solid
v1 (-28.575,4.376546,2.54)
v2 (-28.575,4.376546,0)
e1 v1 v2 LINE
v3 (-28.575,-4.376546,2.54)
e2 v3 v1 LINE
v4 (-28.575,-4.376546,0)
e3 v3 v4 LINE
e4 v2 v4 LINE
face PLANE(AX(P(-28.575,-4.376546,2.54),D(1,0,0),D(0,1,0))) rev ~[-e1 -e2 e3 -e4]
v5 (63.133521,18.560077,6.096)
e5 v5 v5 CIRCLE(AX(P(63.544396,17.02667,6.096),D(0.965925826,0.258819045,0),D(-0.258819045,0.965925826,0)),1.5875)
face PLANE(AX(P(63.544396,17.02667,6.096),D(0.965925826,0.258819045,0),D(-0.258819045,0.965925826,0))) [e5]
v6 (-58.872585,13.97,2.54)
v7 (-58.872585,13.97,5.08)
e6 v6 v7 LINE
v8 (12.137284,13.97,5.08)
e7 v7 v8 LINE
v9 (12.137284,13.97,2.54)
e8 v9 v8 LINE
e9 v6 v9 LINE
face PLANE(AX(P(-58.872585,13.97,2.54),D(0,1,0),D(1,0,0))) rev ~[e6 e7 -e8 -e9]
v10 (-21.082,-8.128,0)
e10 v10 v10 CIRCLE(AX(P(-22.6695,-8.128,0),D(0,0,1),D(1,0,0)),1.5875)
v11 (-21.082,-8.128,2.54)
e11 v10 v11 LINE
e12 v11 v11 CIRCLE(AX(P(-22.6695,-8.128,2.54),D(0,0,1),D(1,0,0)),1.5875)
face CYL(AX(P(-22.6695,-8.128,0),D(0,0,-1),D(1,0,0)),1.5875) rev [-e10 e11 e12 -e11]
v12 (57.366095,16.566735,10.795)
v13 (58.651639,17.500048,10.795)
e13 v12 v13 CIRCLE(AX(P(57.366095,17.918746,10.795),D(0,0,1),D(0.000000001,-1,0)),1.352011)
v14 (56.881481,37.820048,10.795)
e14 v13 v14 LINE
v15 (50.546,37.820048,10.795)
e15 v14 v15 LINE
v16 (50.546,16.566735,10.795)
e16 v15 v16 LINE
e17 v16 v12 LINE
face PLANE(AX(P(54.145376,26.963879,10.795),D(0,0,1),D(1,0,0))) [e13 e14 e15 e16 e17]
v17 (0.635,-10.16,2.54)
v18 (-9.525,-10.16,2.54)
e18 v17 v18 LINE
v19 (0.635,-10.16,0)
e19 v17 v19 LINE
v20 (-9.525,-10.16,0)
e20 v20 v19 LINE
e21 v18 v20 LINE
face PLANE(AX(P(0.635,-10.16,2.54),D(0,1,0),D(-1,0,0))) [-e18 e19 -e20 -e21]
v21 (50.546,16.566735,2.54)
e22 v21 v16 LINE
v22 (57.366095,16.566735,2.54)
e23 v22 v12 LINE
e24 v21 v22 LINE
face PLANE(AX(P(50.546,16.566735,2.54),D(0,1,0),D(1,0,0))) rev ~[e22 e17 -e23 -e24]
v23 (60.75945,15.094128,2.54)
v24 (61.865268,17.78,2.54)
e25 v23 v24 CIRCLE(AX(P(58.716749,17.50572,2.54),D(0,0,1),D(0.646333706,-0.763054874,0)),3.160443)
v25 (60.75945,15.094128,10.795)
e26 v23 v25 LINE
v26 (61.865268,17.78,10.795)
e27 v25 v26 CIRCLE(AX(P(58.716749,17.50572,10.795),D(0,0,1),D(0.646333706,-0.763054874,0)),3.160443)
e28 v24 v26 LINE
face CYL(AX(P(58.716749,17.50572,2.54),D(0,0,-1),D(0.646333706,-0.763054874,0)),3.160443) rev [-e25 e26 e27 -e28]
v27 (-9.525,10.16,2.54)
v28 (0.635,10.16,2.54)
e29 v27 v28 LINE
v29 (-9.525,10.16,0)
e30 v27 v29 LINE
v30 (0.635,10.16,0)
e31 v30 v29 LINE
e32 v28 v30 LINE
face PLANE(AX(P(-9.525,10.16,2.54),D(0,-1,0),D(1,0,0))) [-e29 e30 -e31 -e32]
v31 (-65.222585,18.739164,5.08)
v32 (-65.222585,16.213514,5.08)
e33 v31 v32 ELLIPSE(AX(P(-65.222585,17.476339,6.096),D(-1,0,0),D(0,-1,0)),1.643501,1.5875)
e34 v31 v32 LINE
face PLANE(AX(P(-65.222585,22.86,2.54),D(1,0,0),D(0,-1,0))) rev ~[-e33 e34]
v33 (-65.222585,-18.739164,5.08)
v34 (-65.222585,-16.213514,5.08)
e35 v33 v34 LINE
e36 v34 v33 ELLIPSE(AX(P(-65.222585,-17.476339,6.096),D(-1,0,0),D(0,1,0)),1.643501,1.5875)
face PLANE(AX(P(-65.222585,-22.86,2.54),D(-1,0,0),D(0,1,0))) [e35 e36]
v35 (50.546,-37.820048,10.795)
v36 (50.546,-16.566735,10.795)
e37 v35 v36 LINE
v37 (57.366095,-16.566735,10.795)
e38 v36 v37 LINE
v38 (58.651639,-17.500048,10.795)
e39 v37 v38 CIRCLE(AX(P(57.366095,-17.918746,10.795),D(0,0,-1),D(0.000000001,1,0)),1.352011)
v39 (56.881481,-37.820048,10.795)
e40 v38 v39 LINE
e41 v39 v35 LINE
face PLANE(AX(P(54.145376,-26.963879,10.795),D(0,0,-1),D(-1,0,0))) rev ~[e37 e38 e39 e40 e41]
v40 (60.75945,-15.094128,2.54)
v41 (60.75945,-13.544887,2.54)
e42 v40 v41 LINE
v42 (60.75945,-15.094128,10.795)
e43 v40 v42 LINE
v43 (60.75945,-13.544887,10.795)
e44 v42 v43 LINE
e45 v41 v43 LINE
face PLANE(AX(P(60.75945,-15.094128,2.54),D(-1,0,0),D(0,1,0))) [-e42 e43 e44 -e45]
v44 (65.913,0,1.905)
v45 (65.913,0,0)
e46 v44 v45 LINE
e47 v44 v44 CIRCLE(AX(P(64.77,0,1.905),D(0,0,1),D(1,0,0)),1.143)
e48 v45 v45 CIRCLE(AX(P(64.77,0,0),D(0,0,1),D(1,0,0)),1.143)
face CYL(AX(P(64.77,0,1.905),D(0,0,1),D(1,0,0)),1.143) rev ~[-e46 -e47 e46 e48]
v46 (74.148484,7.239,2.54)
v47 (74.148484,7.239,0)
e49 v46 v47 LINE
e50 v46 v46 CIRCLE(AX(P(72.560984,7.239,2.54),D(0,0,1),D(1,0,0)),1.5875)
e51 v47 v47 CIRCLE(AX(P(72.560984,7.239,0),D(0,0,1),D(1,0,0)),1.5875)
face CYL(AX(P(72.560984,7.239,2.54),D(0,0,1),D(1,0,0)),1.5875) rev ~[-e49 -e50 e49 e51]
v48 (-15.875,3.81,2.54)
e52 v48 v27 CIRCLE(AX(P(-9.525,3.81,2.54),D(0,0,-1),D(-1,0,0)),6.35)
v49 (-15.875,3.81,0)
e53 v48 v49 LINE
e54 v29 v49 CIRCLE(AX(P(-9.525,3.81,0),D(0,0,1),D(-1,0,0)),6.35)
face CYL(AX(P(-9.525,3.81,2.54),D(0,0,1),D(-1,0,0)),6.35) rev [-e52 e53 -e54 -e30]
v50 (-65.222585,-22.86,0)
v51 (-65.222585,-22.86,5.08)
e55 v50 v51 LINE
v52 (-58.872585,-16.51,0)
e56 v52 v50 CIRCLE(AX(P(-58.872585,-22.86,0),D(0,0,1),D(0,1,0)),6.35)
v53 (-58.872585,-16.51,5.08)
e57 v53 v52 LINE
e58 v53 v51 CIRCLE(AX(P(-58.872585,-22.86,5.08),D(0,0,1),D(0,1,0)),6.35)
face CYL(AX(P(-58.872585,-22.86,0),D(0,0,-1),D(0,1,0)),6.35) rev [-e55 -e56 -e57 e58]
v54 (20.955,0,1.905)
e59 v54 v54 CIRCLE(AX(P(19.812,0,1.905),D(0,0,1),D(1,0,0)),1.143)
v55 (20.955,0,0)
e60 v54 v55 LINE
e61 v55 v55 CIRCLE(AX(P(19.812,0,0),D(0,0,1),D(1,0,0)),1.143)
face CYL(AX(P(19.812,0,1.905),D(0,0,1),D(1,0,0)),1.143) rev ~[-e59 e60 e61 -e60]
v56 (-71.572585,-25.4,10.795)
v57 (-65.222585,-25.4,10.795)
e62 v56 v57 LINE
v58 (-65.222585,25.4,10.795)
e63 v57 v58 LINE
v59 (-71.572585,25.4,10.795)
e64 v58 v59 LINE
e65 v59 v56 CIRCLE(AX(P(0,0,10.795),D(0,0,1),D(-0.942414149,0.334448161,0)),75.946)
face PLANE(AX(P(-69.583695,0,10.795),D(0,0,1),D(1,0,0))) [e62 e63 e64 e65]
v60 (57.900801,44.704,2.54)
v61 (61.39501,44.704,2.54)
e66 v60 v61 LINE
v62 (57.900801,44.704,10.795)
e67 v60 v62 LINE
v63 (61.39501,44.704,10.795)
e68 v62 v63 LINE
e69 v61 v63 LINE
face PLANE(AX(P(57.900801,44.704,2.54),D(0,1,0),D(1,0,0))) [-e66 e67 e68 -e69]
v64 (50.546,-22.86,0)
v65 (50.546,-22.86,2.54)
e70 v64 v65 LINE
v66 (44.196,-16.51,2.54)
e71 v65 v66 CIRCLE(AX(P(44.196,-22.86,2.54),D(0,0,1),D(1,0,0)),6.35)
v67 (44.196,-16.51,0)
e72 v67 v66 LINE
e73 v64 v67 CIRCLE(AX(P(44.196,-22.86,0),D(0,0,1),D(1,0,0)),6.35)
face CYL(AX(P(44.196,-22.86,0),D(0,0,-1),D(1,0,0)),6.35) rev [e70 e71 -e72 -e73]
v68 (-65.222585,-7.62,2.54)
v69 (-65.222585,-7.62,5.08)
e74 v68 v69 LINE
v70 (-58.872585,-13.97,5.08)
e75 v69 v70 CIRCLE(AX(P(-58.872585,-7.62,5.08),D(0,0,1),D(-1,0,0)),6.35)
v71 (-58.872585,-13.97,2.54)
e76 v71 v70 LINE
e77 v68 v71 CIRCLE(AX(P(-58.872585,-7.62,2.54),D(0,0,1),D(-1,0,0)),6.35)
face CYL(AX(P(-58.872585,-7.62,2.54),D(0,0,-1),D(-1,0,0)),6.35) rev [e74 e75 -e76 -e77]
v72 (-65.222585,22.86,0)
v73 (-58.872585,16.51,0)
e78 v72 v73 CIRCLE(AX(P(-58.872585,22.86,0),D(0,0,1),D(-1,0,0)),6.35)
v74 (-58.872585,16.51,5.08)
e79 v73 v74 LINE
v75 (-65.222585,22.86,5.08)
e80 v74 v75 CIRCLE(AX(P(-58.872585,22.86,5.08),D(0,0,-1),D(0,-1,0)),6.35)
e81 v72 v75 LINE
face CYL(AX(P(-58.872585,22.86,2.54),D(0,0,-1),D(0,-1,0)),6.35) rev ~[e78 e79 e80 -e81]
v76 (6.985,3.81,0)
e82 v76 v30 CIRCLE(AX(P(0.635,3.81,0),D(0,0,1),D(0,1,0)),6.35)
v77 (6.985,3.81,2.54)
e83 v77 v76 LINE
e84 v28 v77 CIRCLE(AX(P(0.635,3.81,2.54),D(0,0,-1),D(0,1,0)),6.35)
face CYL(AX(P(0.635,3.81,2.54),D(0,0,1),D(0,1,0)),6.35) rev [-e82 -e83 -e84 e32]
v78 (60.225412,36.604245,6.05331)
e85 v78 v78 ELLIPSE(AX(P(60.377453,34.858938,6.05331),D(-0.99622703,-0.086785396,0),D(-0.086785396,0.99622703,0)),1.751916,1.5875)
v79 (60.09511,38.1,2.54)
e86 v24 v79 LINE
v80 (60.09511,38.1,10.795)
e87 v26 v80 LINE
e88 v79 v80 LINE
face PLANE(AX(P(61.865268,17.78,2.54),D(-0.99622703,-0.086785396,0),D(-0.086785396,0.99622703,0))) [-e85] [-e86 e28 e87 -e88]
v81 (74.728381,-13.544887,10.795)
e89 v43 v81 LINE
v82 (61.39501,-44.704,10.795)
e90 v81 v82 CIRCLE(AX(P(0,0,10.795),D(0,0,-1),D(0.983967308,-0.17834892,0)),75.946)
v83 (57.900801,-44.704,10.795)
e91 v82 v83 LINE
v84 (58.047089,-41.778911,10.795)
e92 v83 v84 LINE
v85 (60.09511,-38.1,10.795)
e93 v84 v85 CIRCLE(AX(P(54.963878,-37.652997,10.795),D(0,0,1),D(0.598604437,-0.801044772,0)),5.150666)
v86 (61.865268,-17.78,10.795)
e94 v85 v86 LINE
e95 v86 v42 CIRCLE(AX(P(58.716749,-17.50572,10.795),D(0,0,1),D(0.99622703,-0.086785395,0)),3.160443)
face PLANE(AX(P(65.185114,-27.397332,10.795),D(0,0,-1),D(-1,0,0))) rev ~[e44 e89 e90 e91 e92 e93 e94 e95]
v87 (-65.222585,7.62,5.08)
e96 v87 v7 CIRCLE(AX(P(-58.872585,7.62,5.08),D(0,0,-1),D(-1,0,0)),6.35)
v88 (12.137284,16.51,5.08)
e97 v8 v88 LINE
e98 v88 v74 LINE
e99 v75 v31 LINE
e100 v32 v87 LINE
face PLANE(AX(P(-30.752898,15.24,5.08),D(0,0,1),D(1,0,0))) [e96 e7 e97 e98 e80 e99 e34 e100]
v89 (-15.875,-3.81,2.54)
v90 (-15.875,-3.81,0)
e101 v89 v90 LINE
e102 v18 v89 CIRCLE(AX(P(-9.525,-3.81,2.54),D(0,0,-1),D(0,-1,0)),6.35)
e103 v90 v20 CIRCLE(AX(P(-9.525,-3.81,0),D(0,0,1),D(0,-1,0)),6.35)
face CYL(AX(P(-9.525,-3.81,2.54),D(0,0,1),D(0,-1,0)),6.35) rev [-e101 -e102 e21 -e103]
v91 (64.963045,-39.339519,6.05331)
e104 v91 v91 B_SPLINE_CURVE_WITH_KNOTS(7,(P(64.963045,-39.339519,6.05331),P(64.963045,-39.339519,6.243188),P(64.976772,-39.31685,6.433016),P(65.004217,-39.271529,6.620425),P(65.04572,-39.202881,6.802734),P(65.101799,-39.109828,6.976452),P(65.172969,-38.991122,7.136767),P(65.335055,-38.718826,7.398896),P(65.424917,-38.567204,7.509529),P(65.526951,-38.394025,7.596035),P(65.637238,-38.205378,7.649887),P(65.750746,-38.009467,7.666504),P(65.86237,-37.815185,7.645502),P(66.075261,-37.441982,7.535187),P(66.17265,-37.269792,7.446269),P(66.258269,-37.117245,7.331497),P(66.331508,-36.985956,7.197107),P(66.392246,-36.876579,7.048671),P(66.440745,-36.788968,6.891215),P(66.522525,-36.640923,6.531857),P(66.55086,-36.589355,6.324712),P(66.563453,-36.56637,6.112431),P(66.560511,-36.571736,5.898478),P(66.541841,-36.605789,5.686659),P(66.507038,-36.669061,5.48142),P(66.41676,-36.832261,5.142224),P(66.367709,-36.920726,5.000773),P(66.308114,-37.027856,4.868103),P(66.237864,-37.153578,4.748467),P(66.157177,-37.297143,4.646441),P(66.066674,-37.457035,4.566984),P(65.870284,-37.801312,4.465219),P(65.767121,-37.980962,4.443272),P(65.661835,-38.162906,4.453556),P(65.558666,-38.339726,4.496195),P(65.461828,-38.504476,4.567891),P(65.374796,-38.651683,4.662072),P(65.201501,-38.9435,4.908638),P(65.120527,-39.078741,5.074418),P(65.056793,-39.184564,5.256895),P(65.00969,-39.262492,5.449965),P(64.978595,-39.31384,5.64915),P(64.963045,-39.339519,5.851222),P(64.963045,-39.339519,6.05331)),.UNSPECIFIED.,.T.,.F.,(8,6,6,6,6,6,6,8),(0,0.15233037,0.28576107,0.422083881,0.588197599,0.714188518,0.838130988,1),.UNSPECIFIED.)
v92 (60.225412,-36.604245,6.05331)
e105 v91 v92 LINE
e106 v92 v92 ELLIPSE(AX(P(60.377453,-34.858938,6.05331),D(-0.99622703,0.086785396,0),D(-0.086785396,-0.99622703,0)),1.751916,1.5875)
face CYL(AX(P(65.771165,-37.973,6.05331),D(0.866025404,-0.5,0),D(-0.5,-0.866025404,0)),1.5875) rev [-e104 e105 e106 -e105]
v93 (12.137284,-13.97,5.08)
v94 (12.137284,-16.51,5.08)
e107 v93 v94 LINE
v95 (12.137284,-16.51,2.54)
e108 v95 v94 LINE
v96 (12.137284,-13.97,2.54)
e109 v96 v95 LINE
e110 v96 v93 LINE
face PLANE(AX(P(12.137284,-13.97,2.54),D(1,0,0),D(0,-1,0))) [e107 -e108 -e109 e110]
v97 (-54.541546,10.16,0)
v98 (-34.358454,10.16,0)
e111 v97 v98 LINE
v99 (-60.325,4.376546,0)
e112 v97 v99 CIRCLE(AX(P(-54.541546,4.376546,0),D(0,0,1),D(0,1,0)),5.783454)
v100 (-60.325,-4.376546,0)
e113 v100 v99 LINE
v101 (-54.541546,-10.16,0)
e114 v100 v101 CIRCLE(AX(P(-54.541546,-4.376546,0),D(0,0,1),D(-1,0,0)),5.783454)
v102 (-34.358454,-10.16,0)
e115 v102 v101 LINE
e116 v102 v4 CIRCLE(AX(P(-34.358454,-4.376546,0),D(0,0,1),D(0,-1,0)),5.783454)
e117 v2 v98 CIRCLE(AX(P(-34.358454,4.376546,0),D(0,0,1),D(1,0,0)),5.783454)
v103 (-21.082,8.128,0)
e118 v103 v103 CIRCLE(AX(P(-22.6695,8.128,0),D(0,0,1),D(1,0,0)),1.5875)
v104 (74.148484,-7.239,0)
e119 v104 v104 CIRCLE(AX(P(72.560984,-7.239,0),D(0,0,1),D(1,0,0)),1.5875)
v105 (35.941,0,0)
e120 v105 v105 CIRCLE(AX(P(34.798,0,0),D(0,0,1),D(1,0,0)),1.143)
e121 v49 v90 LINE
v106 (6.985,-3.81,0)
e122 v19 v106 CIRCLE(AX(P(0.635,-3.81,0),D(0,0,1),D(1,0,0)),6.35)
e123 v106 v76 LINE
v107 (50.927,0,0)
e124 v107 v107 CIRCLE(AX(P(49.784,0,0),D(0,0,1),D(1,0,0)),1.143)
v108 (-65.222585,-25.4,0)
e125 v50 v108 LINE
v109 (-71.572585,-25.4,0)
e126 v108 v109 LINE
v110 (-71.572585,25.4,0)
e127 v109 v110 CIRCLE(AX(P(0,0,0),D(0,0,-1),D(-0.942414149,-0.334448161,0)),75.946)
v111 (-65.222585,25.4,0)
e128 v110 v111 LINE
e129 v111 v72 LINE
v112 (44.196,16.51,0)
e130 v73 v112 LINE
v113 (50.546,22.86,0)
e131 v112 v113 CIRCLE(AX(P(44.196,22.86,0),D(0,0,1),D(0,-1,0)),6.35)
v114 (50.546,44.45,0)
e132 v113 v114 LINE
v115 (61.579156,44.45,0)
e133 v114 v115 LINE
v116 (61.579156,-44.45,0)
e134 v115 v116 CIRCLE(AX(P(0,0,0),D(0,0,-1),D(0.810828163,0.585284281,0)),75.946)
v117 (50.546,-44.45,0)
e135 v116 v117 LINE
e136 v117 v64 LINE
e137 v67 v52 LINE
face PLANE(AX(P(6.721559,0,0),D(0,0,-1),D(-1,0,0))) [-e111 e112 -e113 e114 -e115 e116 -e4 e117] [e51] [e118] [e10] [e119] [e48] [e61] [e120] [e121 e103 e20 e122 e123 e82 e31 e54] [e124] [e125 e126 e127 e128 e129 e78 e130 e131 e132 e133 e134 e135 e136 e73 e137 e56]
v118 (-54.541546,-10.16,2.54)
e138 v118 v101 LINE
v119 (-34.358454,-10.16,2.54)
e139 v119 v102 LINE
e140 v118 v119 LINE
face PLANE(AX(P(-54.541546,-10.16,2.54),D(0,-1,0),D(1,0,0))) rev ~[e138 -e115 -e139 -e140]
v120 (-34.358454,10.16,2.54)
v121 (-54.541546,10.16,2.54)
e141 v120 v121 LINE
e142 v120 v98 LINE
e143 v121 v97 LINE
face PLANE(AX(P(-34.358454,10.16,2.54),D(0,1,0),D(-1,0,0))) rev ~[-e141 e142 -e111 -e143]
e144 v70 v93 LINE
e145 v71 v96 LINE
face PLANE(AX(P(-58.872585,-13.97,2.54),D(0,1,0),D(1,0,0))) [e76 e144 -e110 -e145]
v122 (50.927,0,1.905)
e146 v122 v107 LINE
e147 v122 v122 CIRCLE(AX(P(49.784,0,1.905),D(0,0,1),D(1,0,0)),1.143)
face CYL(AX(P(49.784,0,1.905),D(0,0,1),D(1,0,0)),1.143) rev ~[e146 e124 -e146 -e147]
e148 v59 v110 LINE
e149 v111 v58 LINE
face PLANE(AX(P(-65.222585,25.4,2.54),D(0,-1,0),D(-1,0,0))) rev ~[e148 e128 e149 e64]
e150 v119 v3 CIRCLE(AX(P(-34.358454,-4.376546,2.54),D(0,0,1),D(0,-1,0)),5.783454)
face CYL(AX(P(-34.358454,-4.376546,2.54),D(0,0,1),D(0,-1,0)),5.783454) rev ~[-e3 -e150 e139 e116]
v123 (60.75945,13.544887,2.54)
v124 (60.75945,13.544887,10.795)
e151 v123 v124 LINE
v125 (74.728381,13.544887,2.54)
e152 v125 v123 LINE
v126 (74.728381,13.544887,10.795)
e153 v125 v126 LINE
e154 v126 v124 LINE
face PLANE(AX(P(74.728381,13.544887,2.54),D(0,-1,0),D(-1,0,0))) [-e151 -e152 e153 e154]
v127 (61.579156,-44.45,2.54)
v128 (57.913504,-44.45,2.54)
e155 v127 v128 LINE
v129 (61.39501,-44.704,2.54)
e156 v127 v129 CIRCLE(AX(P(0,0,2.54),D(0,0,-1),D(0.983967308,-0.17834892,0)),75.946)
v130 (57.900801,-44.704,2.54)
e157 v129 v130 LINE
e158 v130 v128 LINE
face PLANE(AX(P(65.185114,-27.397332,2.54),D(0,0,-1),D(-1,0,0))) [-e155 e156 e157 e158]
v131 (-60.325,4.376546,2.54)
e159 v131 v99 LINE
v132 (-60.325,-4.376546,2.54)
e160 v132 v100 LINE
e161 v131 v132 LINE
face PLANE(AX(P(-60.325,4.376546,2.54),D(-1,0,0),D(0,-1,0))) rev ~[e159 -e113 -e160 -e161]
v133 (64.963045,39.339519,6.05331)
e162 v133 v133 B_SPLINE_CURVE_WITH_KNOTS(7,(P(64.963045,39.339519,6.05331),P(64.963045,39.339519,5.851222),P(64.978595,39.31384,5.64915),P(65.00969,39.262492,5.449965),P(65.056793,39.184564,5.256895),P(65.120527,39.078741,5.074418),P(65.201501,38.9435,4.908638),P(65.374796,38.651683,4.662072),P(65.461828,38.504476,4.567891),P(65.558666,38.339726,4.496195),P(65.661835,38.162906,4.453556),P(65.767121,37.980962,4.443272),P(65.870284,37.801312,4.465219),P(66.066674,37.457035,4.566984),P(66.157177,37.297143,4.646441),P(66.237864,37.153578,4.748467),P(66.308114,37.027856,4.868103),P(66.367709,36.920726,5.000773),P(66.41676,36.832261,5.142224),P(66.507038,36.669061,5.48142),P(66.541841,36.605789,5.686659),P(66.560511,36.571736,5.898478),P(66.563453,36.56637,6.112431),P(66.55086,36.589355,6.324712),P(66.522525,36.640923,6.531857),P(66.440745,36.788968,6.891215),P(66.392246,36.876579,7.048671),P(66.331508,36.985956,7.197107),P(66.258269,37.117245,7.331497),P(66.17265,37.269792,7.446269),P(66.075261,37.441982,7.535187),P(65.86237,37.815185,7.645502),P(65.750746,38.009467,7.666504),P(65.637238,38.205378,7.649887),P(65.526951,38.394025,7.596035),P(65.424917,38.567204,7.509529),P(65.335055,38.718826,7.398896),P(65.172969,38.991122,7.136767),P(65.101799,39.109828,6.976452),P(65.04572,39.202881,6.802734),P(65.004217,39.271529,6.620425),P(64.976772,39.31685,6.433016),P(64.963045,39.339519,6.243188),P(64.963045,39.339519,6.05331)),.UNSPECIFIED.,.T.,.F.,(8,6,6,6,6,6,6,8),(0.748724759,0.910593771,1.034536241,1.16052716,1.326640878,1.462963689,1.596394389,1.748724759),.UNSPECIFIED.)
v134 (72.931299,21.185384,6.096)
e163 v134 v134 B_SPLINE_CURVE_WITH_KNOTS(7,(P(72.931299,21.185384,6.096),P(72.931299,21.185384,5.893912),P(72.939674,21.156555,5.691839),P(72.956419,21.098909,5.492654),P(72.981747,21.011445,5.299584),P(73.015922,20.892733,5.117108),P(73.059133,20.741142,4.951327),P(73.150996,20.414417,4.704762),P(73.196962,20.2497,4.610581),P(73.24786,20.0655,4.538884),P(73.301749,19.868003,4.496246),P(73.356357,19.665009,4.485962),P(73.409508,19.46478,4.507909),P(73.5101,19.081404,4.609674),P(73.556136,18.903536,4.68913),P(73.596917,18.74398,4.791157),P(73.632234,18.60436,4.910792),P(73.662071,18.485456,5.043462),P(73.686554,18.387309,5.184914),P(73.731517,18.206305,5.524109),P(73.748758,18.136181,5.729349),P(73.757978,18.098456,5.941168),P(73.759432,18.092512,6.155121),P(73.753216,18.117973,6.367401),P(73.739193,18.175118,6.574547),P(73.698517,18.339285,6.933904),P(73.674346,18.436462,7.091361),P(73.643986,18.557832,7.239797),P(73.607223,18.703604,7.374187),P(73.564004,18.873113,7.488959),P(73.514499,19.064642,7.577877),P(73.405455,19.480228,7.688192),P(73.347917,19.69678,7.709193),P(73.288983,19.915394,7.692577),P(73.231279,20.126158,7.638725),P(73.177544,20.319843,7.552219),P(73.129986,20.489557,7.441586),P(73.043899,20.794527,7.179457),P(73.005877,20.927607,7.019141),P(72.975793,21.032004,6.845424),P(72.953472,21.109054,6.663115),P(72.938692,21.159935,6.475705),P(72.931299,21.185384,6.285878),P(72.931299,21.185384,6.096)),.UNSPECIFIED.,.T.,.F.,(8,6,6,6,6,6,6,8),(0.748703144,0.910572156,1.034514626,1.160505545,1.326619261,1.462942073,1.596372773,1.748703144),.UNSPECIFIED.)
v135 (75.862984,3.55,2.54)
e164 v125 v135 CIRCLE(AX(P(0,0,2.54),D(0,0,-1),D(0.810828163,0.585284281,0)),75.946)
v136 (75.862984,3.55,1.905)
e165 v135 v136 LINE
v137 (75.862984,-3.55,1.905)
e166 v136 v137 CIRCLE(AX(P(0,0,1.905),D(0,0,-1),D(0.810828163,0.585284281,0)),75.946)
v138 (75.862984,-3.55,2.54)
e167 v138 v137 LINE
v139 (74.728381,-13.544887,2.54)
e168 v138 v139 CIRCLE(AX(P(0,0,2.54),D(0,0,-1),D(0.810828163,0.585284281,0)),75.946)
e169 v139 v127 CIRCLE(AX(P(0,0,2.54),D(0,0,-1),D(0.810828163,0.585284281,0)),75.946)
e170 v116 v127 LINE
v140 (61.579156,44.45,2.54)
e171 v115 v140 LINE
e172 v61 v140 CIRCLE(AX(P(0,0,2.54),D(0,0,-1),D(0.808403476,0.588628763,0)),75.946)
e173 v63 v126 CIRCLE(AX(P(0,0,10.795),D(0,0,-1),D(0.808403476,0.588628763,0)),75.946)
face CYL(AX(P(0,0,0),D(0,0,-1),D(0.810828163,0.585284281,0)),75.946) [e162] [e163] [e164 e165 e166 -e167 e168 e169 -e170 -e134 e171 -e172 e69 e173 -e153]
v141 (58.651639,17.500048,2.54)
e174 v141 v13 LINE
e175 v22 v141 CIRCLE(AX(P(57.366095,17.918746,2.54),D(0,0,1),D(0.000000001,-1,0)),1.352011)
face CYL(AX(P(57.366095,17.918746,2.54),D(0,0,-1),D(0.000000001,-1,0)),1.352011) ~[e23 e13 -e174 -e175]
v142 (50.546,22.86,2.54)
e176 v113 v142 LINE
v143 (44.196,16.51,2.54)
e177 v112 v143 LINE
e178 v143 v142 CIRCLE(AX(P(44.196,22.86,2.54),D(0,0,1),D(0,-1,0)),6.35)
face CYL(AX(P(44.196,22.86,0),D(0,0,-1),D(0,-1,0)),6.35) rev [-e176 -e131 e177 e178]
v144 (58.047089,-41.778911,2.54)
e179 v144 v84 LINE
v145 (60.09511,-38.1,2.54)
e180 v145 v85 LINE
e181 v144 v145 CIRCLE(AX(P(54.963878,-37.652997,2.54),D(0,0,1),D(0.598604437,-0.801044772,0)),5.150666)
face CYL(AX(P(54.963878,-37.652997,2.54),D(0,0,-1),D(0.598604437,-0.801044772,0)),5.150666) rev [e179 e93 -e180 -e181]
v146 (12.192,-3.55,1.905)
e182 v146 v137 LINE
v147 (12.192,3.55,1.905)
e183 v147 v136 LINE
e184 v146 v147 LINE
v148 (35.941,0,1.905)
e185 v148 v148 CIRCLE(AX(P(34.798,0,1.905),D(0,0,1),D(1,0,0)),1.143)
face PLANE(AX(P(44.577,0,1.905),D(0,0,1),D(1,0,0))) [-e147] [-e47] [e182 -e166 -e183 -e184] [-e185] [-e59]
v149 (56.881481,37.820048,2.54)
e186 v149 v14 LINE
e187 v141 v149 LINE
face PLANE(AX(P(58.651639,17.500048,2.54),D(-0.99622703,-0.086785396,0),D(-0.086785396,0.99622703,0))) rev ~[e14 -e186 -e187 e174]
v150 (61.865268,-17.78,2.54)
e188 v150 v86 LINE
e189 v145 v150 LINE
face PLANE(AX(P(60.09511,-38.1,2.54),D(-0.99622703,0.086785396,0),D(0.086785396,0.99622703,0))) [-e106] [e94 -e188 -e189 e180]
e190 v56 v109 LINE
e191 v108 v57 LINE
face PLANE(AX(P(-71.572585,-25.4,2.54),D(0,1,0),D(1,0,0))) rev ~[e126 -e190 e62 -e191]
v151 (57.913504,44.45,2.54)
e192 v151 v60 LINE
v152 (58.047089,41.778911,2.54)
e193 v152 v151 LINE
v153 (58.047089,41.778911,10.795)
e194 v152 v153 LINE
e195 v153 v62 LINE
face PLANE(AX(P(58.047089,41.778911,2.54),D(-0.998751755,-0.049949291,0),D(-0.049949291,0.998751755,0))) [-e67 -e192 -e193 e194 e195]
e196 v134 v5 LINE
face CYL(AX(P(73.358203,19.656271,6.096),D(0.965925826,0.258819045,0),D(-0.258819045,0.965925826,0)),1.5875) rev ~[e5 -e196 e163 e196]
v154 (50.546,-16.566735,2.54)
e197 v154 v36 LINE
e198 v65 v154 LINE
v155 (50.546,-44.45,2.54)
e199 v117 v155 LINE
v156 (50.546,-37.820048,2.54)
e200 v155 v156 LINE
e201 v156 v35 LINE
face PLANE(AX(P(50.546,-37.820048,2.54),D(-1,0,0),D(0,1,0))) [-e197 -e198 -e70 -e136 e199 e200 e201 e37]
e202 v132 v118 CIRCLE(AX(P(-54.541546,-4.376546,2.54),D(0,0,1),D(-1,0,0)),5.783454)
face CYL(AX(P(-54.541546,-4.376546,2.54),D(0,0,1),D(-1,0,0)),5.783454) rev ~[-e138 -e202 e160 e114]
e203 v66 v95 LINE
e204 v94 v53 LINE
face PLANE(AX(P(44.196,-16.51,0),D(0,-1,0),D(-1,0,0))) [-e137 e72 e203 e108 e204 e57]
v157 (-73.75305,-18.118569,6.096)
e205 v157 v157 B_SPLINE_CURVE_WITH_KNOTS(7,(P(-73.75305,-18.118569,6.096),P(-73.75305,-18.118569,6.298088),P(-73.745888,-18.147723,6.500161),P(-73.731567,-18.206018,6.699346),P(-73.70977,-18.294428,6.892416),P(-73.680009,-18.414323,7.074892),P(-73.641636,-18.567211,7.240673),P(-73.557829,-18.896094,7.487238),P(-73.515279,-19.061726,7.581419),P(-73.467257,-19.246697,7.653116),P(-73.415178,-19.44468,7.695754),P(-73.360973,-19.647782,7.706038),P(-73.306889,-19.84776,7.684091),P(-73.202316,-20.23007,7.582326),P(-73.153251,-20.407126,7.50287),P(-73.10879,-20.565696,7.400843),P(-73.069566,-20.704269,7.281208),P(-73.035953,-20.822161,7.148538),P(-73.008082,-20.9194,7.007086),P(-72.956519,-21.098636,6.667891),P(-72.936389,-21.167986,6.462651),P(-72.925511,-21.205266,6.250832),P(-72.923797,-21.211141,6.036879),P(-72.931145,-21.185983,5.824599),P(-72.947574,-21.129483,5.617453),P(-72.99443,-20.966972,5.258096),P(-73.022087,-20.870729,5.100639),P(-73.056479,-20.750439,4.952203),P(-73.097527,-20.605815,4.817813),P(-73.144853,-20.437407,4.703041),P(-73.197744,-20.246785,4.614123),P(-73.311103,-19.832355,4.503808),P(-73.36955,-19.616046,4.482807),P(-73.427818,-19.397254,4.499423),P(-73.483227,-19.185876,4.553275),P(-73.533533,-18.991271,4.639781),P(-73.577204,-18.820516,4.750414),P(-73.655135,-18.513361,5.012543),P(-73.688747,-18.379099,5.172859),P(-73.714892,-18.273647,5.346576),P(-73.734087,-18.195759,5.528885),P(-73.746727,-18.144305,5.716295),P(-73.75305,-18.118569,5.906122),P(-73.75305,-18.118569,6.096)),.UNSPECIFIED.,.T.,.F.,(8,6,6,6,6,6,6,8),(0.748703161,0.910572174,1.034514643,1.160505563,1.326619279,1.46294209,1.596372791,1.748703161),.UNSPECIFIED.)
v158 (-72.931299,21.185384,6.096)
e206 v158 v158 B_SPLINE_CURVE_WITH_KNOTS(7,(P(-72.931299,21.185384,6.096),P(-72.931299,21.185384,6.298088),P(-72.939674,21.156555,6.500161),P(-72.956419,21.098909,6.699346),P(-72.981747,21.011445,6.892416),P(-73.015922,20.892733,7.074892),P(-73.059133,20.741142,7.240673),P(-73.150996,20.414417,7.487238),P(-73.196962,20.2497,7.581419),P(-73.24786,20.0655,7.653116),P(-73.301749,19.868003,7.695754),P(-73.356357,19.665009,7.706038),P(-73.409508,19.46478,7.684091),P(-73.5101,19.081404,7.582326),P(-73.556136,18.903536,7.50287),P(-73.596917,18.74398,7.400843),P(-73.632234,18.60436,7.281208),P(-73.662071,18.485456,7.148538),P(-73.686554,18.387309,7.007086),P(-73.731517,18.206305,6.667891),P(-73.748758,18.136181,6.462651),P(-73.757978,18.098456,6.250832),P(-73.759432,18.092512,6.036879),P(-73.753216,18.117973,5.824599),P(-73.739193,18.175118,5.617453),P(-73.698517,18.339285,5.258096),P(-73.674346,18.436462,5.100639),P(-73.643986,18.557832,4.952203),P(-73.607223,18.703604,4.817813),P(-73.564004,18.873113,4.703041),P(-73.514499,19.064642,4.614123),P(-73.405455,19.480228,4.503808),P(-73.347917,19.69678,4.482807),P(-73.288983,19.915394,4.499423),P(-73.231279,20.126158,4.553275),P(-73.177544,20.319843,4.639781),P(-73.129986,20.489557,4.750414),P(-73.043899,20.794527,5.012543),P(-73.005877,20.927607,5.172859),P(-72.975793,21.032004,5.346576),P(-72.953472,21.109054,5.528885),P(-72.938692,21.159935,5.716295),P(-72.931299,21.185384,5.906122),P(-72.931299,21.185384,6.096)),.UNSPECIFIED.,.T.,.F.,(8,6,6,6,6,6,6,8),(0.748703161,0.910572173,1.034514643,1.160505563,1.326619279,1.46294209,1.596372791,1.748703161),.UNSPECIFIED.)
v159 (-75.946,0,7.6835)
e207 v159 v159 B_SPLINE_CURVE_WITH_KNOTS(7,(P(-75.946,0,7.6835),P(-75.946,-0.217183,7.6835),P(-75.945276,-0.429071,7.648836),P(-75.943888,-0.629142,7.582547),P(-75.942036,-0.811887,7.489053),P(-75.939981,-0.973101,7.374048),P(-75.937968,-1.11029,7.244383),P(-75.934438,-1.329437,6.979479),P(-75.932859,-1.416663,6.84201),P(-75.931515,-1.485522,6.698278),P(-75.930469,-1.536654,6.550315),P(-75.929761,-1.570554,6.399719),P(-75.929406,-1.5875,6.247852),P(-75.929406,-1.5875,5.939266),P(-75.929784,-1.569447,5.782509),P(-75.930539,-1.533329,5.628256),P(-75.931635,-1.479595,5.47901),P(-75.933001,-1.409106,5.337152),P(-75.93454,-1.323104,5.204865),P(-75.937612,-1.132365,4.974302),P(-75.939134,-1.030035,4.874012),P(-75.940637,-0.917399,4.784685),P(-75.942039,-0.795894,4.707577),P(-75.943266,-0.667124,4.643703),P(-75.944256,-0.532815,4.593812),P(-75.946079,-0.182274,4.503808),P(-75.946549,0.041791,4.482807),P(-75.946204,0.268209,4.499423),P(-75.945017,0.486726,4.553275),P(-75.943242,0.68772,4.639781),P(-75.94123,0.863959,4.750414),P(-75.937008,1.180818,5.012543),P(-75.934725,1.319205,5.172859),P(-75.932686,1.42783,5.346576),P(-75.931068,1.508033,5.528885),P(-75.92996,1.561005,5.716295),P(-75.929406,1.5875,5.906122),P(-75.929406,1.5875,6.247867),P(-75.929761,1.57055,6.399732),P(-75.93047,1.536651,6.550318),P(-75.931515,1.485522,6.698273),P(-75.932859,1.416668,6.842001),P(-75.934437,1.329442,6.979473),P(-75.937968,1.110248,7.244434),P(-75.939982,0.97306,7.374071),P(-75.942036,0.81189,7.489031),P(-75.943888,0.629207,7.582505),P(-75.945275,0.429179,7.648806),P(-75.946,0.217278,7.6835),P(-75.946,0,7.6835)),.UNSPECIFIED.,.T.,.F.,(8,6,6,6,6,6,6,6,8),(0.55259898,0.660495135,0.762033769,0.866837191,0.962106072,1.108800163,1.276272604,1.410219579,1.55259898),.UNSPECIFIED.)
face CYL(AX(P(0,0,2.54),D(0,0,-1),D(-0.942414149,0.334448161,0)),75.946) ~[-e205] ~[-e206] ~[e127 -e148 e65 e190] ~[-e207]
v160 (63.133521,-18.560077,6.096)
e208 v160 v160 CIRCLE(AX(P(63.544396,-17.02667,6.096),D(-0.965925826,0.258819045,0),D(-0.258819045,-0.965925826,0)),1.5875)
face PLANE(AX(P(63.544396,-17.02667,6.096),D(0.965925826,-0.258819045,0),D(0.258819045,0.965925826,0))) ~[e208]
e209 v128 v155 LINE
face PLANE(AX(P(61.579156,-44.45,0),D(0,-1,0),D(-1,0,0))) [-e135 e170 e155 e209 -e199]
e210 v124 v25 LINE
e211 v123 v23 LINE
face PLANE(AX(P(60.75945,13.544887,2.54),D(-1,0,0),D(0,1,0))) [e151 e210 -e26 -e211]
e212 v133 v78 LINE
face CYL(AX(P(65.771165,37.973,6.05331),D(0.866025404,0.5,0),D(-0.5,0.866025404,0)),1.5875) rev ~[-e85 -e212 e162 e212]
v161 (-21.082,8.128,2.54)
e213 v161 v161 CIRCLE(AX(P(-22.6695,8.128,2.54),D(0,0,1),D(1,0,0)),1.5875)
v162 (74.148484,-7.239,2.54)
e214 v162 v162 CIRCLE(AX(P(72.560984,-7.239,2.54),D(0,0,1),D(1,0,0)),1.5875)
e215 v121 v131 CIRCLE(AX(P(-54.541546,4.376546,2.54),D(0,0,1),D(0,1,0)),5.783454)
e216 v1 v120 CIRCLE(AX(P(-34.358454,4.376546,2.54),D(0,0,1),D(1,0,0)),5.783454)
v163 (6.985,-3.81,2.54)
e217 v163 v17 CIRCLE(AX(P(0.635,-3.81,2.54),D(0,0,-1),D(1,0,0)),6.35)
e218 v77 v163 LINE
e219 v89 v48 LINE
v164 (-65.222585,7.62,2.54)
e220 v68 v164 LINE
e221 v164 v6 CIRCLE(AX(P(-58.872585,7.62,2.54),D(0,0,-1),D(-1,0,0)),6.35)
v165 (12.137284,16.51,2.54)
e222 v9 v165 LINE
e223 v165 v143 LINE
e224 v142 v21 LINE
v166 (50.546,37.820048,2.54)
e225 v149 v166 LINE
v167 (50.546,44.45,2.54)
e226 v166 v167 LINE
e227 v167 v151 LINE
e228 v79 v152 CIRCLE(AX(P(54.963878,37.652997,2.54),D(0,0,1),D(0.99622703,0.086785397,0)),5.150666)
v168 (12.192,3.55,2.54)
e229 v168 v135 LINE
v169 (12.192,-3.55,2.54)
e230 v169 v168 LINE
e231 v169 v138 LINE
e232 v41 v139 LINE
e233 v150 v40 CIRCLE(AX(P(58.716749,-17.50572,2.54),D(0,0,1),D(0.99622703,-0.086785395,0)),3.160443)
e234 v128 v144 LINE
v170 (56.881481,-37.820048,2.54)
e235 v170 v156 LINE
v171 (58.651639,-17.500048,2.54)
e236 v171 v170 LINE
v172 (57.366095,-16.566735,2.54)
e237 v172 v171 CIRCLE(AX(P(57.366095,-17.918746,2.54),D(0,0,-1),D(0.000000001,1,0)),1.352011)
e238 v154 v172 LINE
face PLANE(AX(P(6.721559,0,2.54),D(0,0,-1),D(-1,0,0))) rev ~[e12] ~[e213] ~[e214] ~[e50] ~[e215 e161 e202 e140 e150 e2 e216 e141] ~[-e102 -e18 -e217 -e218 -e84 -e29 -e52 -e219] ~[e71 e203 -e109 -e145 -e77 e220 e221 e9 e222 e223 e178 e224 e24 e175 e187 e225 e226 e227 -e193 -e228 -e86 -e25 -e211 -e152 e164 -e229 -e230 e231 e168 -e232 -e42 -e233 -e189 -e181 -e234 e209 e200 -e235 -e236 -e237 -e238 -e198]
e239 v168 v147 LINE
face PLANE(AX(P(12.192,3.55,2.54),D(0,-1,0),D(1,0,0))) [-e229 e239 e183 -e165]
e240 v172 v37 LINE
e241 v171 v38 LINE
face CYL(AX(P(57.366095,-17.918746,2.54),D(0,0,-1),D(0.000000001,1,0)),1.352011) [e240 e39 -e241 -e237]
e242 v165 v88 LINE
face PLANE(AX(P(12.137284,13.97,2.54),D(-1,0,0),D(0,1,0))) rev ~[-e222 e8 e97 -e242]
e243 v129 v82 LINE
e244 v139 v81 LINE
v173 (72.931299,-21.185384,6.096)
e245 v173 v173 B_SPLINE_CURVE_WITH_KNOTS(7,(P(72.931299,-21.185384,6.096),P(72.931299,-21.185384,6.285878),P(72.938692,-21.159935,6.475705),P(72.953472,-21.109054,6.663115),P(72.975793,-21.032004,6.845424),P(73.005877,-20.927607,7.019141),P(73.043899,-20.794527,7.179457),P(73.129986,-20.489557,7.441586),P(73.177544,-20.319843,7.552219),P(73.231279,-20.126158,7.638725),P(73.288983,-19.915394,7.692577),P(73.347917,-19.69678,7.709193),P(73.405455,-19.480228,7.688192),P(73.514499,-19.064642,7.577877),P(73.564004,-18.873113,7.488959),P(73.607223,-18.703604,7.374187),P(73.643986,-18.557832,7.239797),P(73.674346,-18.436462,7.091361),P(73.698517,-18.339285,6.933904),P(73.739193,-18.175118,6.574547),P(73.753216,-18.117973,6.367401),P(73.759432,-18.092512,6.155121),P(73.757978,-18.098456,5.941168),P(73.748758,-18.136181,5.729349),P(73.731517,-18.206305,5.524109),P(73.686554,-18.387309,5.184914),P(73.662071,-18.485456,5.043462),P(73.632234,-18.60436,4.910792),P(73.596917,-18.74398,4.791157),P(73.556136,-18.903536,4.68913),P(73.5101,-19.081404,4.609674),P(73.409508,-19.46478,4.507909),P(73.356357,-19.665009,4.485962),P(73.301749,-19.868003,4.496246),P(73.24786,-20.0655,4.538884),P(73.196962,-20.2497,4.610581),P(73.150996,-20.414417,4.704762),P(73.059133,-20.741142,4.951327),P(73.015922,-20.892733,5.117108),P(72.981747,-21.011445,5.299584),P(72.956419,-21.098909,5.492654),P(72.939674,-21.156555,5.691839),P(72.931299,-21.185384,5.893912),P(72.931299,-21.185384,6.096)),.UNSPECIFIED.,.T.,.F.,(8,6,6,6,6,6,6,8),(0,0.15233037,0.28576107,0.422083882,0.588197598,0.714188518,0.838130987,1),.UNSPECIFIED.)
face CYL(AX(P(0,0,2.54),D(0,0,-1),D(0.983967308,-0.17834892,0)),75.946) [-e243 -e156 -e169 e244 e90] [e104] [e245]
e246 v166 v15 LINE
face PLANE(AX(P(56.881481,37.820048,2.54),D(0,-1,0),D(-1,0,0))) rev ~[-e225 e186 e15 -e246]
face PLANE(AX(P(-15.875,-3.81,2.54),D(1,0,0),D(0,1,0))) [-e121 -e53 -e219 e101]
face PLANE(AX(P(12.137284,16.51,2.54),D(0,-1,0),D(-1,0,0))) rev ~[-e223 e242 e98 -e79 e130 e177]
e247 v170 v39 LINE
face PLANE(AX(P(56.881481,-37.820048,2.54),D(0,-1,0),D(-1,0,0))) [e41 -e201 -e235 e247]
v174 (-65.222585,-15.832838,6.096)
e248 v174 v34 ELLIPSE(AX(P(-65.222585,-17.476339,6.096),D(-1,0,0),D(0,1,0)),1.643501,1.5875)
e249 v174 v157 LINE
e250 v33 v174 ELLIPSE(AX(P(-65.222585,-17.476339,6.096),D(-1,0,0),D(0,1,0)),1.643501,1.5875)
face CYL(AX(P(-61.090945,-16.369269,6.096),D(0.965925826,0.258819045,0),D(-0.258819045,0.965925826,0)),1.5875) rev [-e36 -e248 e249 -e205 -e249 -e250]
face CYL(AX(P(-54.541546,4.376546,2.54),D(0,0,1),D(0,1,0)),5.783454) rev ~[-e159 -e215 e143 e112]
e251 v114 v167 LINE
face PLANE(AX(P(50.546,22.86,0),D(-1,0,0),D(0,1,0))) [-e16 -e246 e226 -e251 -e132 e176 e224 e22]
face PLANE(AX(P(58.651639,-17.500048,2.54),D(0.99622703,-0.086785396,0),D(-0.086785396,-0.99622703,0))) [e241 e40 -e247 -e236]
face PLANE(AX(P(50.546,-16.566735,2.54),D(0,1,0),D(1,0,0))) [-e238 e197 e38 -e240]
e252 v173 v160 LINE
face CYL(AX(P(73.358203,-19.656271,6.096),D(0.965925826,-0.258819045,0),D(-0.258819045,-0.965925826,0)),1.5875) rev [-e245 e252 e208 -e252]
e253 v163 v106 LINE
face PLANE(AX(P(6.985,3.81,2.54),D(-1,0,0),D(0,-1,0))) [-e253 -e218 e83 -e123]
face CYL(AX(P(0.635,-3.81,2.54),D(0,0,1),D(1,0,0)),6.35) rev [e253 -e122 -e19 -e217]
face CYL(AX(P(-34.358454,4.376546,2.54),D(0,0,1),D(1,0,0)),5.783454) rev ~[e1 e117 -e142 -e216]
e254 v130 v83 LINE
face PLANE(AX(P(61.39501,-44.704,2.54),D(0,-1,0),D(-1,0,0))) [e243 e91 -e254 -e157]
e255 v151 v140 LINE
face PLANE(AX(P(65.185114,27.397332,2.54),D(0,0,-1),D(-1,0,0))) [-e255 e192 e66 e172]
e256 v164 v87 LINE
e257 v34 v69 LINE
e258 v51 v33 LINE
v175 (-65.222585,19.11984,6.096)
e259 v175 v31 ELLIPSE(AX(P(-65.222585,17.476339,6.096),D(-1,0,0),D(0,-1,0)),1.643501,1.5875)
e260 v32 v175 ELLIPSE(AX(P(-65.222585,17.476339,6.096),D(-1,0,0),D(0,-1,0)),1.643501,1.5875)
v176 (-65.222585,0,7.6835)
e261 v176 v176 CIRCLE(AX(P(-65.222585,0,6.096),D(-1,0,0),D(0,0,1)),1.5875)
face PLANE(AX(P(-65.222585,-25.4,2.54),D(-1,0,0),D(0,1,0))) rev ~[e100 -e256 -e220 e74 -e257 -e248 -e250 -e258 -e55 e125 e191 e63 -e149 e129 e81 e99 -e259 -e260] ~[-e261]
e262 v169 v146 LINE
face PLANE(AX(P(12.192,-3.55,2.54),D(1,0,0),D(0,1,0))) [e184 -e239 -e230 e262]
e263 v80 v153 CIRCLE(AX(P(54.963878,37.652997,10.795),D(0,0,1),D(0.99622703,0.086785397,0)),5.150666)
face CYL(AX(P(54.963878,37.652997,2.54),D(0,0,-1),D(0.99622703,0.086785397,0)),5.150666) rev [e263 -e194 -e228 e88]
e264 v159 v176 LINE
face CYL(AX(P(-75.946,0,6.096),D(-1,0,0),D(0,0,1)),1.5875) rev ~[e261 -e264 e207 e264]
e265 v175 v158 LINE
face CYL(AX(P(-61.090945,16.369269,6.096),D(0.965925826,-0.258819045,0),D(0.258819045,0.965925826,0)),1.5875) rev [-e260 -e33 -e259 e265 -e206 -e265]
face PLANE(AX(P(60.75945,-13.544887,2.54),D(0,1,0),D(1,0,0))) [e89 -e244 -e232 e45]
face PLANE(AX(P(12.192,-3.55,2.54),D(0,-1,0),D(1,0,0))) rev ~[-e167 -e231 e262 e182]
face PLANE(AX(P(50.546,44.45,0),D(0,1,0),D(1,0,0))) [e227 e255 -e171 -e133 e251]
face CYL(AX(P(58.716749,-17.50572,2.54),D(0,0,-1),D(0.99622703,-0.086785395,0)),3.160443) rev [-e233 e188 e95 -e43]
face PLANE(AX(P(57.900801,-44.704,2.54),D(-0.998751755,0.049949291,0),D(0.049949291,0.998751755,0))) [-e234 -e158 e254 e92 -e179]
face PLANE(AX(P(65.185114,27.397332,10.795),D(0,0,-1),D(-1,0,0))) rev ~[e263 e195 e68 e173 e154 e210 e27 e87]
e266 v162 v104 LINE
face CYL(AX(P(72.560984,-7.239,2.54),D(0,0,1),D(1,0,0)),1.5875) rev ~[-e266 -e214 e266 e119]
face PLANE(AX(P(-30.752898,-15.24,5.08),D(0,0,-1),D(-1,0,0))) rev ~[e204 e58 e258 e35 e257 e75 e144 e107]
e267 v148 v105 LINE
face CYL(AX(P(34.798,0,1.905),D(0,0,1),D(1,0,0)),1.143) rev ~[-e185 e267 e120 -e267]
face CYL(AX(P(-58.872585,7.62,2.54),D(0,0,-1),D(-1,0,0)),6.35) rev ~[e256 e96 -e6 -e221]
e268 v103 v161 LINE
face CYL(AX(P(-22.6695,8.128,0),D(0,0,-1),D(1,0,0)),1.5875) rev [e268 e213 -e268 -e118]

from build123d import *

# Parameters (mm, degrees)
SKETCH1_R           = 1.5875
BOSS_EXTRUDE1_DEPTH = 2.54
BOSS_EXTRUDE2_DEPTH = 8.255
SKETCH3_W           = 64.77
SKETCH3_H           = 7.1
CUT_EXTRUDE1_DEPTH  = 0.635
SKETCH9_R           = 1.5875
CUT_EXTRUDE4_DEPTH  = 89.512075769
SKETCH4_R           = 1.143
CUT_EXTRUDE2_DEPTH  = 11.43
BOSS_EXTRUDE5_DEPTH = 8.255
SKETCH28_R          = 1.5875
CUT_EXTRUDE12_DEPTH = 7.62
SKETCH29_R          = 1.5875
CUT_EXTRUDE13_DEPTH = 10.16
CUT_EXTRUDE14_START = -12.7
SKETCH30_R          = 1.5875
CUT_EXTRUDE14_DEPTH = 12.7
SKETCH31_R          = 1.5875
CUT_EXTRUDE15_DEPTH = 12.7
CUT_EXTRUDE16_START = -12.7
SKETCH32_R          = 1.5875
CUT_EXTRUDE16_DEPTH = 12.7
BOSS_EXTRUDE6_DEPTH = 2.54
CUT_EXTRUDE17_DEPTH = 89.512075921


with BuildPart() as part:
    # Sketch1 → Boss-Extrude1 (new body)
    with BuildSketch(Plane.XY):
        with BuildLine():
            Line((-71.572584947, 25.4), (-65.222584947, 25.4))
            Line((-65.222584947, 25.4), (-65.222584947, 22.86))
            ThreePointArc((-65.222584947, 22.86), (-63.362713008, 18.369871939), (-58.872584947, 16.51))
            Line((-58.872584947, 16.51), (44.196, 16.51))
            ThreePointArc((44.196, 16.51), (48.686128061, 18.369871939), (50.546, 22.86))
            Line((50.546, 22.86), (50.546, 44.45))
            Line((50.546, 44.45), (61.579155694, 44.45))
            ThreePointArc((61.579155694, 44.45), (75.946, 0), (61.579155694, -44.45))
            Line((61.579155694, -44.45), (50.546, -44.45))
            Line((50.546, -44.45), (50.546, -22.86))
            ThreePointArc((50.546, -22.86), (48.686128061, -18.369871939), (44.196, -16.51))
            Line((44.196, -16.51), (-58.872584947, -16.51))
            ThreePointArc((-58.872584947, -16.51), (-63.362713008, -18.369871939), (-65.222584947, -22.86))
            Line((-65.222584947, -22.86), (-65.222584947, -25.4))
            Line((-65.222584947, -25.4), (-71.572584947, -25.4))
            ThreePointArc((-71.572584947, -25.4), (-75.946, 0), (-71.572584947, 25.4))
        make_face()
        with Locations((-22.6695, 8.128)):
            Circle(SKETCH1_R, mode=Mode.SUBTRACT)
        with Locations((-22.6695, -8.128)):
            Circle(SKETCH1_R, mode=Mode.SUBTRACT)
    extrude(amount=BOSS_EXTRUDE1_DEPTH)

    # Sketch2 → Boss-Extrude2 (add)
    with BuildSketch(Plane.XY.offset(2.54)):
        with BuildLine():
            Line((61.865268471, 17.78), (60.095110466, 38.1))
            ThreePointArc((60.095110466, 38.1), (59.464196764, 40.158289632), (58.047089349, 41.778911391))
            Line((58.047089349, 41.778911391), (57.900800643, 44.704))
            Line((57.900800643, 44.704), (61.395010384, 44.704))
            ThreePointArc((61.395010384, 44.704), (69.822038137, 29.877715884), (74.728381149, 13.544887112))
            Line((74.728381149, 13.544887112), (60.759450402, 13.544887112))
            Line((60.759450402, 13.544887112), (60.759450402, 15.094127876))
            ThreePointArc((60.759450402, 15.094127876), (61.639191639, 16.302501703), (61.865268471, 17.78))
        make_face()
        with BuildLine():
            Line((58.651639318, 17.500047669), (56.881481313, 37.820047669))
            Line((56.881481313, 37.820047669), (50.546, 37.820047669))
            Line((50.546, 37.820047669), (50.546, 16.566735288))
            Line((50.546, 16.566735288), (57.366094516, 16.566735288))
            ThreePointArc((57.366094516, 16.566735288), (58.160401987, 16.824667019), (58.651639318, 17.500047669))
        make_face()
        with BuildLine():
            Line((60.759450402, -13.544887112), (74.728381149, -13.544887112))
            ThreePointArc((74.728381149, -13.544887112), (69.822038137, -29.877715884), (61.395010384, -44.704))
            Line((61.395010384, -44.704), (57.900800643, -44.704))
            Line((57.900800643, -44.704), (58.047089349, -41.778911391))
            ThreePointArc((58.047089349, -41.778911391), (59.464196764, -40.158289632), (60.095110466, -38.1))
            Line((60.095110466, -38.1), (61.865268471, -17.78))
            ThreePointArc((61.865268471, -17.78), (61.639191639, -16.302501703), (60.759450402, -15.094127876))
            Line((60.759450402, -15.094127876), (60.759450402, -13.544887112))
        make_face()
        with BuildLine():
            Line((50.546, -16.566735288), (57.366094516, -16.566735288))
            ThreePointArc((57.366094516, -16.566735288), (58.160401987, -16.824667019), (58.651639318, -17.500047669))
            Line((58.651639318, -17.500047669), (56.881481313, -37.820047669))
            Line((56.881481313, -37.820047669), (50.546, -37.820047669))
            Line((50.546, -37.820047669), (50.546, -16.566735288))
        make_face()
    extrude(amount=BOSS_EXTRUDE2_DEPTH)

    # Sketch3 → Cut-Extrude1 (cut)
    with BuildSketch(Plane.XY.offset(2.54)):
        with Locations((44.577, 0)):
            Rectangle(SKETCH3_W, SKETCH3_H)
    extrude(amount=-CUT_EXTRUDE1_DEPTH, mode=Mode.SUBTRACT)

    # Sketch9 → Cut-Extrude4 (cut, through all)
    with BuildSketch(Plane.XY.offset(2.54)):
        with Locations((72.560984492, -7.239)):
            Circle(SKETCH9_R)
        with Locations((72.560984492, 7.239)):
            Circle(SKETCH9_R)
    extrude(amount=-CUT_EXTRUDE4_DEPTH, mode=Mode.SUBTRACT)

    # Sketch4 → Cut-Extrude2 (cut)
    with BuildSketch(Plane.XY.offset(1.905)):
        with Locations((19.812, 0)):
            Circle(SKETCH4_R)
        with Locations((34.798, 0)):
            Circle(SKETCH4_R)
        with Locations((49.784, 0)):
            Circle(SKETCH4_R)
        with Locations((64.77, 0)):
            Circle(SKETCH4_R)
    extrude(amount=-CUT_EXTRUDE2_DEPTH, mode=Mode.SUBTRACT)

    # Sketch19 → Boss-Extrude5 (add)
    with BuildSketch(Plane.XY.offset(2.54)):
        with BuildLine():
            Line((-71.572584947, -25.4), (-65.222584947, -25.4))
            Line((-65.222584947, -25.4), (-65.222584947, 25.4))
            Line((-65.222584947, 25.4), (-71.572584947, 25.4))
            ThreePointArc((-71.572584947, 25.4), (-75.946, 0), (-71.572584947, -25.4))
        make_face()
    extrude(amount=BOSS_EXTRUDE5_DEPTH)

    # Sketch28 → Cut-Extrude12 (cut)
    with BuildSketch(Plane(origin=(65.771165316, 37.973, 0), x_dir=(0, 0, -1), z_dir=(0.8660254037844379, 0.5000000000000011, 0))):
        with Locations(Location((-6.053310192, 0, 0), (0, 0, 90))):
            Circle(SKETCH28_R)
    cut_extrude12 = extrude(amount=-CUT_EXTRUDE12_DEPTH, mode=Mode.SUBTRACT)

    # Sketch29 → Cut-Extrude13 (cut)
    with BuildSketch(Plane(origin=(73.358202803, 19.656271199, 0), x_dir=(0, 0, -1), z_dir=(0.9659258262890682, 0.25881904510252135, 0))):
        with Locations(Location((-6.096, 0, 0), (0, 0, 90))):
            Circle(SKETCH29_R)
    cut_extrude13 = extrude(amount=-CUT_EXTRUDE13_DEPTH, mode=Mode.SUBTRACT)

    # Mirror3: Cut-Extrude12, Cut-Extrude13 across plane
    add(cut_extrude12.mirror(Plane.ZX), mode=Mode.SUBTRACT)
    add(cut_extrude13.mirror(Plane.ZX), mode=Mode.SUBTRACT)

    # Sketch30 → Cut-Extrude14 (cut)
    with BuildSketch(Plane(origin=(-73.358202803, 19.656271199, 0), x_dir=(0, 0, 1), z_dir=(-0.9659258262890681, 0.2588190451025213, 0)).offset(CUT_EXTRUDE14_START)):
        with Locations(Location((6.096, 0, 0), (0, 0, 90))):
            Circle(SKETCH30_R)
    extrude(amount=CUT_EXTRUDE14_DEPTH, mode=Mode.SUBTRACT)

    # Sketch31 → Cut-Extrude15 (cut)
    with BuildSketch(Plane.ZY.offset(75.946)):
        with Locations((6.096, 0)):
            Circle(SKETCH31_R)
    extrude(amount=-CUT_EXTRUDE15_DEPTH, mode=Mode.SUBTRACT)

    # Sketch32 → Cut-Extrude16 (cut)
    with BuildSketch(Plane(origin=(-73.358202803, -19.656271199, 0), x_dir=(0, 0, 1), z_dir=(-0.9659258262890681, -0.2588190451025213, 0)).offset(CUT_EXTRUDE16_START)):
        with Locations(Location((6.096, 0, 0), (0, 0, 90))):
            Circle(SKETCH32_R)
    extrude(amount=CUT_EXTRUDE16_DEPTH, mode=Mode.SUBTRACT)

    # Sketch33 → Boss-Extrude6 (add)
    with BuildSketch(Plane.XY.offset(2.54)):
        with BuildLine():
            Line((12.137284041, 16.51), (-58.872584947, 16.51))
            ThreePointArc((-58.872584947, 16.51), (-63.362713008, 18.369871939), (-65.222584947, 22.86))
            Line((-65.222584947, 22.86), (-65.222584947, 7.62))
            ThreePointArc((-65.222584947, 7.62), (-63.362713008, 12.110128061), (-58.872584947, 13.97))
            Line((-58.872584947, 13.97), (12.137284041, 13.97))
            Line((12.137284041, 13.97), (12.137284041, 16.51))
        make_face()
        with BuildLine():
            Line((12.137284041, -13.97), (12.137284041, -16.51))
            Line((12.137284041, -16.51), (-58.872584947, -16.51))
            ThreePointArc((-58.872584947, -16.51), (-63.362713008, -18.369871939), (-65.222584947, -22.86))
            Line((-65.222584947, -22.86), (-65.222584947, -7.62))
            ThreePointArc((-65.222584947, -7.62), (-63.362713008, -12.110128061), (-58.872584947, -13.97))
            Line((-58.872584947, -13.97), (12.137284041, -13.97))
        make_face()
    extrude(amount=BOSS_EXTRUDE6_DEPTH)

    # Sketch34 → Cut-Extrude17 (cut, through all)
    with BuildSketch(Plane.XY.offset(2.54)):
        with BuildLine():
            Line((-54.541546126, -10.16), (-34.358453874, -10.16))
            ThreePointArc((-34.358453874, -10.16), (-30.268934421, -8.466065579), (-28.575, -4.376546126))
            Line((-28.575, -4.376546126), (-28.575, 4.376546126))
            ThreePointArc((-28.575, 4.376546126), (-30.268934421, 8.466065579), (-34.358453874, 10.16))
            Line((-34.358453874, 10.16), (-54.541546126, 10.16))
            ThreePointArc((-54.541546126, 10.16), (-58.631065579, 8.466065579), (-60.325, 4.376546126))
            Line((-60.325, 4.376546126), (-60.325, -4.376546126))
            ThreePointArc((-60.325, -4.376546126), (-58.631065579, -8.466065579), (-54.541546126, -10.16))
        make_face()
        with BuildLine():
            Line((-9.525, 10.16), (0.635, 10.16))
            ThreePointArc((0.635, 10.16), (5.125128061, 8.300128061), (6.985, 3.81))
            Line((6.985, 3.81), (6.985, -3.81))
            ThreePointArc((6.985, -3.81), (5.125128061, -8.300128061), (0.635, -10.16))
            Line((0.635, -10.16), (-9.525, -10.16))
            ThreePointArc((-9.525, -10.16), (-14.015128061, -8.300128061), (-15.875, -3.81))
            Line((-15.875, -3.81), (-15.875, 3.81))
            ThreePointArc((-15.875, 3.81), (-14.015128061, 8.300128061), (-9.525, 10.16))
        make_face()
    extrude(amount=-CUT_EXTRUDE17_DEPTH, mode=Mode.SUBTRACT)


solid = part.part
